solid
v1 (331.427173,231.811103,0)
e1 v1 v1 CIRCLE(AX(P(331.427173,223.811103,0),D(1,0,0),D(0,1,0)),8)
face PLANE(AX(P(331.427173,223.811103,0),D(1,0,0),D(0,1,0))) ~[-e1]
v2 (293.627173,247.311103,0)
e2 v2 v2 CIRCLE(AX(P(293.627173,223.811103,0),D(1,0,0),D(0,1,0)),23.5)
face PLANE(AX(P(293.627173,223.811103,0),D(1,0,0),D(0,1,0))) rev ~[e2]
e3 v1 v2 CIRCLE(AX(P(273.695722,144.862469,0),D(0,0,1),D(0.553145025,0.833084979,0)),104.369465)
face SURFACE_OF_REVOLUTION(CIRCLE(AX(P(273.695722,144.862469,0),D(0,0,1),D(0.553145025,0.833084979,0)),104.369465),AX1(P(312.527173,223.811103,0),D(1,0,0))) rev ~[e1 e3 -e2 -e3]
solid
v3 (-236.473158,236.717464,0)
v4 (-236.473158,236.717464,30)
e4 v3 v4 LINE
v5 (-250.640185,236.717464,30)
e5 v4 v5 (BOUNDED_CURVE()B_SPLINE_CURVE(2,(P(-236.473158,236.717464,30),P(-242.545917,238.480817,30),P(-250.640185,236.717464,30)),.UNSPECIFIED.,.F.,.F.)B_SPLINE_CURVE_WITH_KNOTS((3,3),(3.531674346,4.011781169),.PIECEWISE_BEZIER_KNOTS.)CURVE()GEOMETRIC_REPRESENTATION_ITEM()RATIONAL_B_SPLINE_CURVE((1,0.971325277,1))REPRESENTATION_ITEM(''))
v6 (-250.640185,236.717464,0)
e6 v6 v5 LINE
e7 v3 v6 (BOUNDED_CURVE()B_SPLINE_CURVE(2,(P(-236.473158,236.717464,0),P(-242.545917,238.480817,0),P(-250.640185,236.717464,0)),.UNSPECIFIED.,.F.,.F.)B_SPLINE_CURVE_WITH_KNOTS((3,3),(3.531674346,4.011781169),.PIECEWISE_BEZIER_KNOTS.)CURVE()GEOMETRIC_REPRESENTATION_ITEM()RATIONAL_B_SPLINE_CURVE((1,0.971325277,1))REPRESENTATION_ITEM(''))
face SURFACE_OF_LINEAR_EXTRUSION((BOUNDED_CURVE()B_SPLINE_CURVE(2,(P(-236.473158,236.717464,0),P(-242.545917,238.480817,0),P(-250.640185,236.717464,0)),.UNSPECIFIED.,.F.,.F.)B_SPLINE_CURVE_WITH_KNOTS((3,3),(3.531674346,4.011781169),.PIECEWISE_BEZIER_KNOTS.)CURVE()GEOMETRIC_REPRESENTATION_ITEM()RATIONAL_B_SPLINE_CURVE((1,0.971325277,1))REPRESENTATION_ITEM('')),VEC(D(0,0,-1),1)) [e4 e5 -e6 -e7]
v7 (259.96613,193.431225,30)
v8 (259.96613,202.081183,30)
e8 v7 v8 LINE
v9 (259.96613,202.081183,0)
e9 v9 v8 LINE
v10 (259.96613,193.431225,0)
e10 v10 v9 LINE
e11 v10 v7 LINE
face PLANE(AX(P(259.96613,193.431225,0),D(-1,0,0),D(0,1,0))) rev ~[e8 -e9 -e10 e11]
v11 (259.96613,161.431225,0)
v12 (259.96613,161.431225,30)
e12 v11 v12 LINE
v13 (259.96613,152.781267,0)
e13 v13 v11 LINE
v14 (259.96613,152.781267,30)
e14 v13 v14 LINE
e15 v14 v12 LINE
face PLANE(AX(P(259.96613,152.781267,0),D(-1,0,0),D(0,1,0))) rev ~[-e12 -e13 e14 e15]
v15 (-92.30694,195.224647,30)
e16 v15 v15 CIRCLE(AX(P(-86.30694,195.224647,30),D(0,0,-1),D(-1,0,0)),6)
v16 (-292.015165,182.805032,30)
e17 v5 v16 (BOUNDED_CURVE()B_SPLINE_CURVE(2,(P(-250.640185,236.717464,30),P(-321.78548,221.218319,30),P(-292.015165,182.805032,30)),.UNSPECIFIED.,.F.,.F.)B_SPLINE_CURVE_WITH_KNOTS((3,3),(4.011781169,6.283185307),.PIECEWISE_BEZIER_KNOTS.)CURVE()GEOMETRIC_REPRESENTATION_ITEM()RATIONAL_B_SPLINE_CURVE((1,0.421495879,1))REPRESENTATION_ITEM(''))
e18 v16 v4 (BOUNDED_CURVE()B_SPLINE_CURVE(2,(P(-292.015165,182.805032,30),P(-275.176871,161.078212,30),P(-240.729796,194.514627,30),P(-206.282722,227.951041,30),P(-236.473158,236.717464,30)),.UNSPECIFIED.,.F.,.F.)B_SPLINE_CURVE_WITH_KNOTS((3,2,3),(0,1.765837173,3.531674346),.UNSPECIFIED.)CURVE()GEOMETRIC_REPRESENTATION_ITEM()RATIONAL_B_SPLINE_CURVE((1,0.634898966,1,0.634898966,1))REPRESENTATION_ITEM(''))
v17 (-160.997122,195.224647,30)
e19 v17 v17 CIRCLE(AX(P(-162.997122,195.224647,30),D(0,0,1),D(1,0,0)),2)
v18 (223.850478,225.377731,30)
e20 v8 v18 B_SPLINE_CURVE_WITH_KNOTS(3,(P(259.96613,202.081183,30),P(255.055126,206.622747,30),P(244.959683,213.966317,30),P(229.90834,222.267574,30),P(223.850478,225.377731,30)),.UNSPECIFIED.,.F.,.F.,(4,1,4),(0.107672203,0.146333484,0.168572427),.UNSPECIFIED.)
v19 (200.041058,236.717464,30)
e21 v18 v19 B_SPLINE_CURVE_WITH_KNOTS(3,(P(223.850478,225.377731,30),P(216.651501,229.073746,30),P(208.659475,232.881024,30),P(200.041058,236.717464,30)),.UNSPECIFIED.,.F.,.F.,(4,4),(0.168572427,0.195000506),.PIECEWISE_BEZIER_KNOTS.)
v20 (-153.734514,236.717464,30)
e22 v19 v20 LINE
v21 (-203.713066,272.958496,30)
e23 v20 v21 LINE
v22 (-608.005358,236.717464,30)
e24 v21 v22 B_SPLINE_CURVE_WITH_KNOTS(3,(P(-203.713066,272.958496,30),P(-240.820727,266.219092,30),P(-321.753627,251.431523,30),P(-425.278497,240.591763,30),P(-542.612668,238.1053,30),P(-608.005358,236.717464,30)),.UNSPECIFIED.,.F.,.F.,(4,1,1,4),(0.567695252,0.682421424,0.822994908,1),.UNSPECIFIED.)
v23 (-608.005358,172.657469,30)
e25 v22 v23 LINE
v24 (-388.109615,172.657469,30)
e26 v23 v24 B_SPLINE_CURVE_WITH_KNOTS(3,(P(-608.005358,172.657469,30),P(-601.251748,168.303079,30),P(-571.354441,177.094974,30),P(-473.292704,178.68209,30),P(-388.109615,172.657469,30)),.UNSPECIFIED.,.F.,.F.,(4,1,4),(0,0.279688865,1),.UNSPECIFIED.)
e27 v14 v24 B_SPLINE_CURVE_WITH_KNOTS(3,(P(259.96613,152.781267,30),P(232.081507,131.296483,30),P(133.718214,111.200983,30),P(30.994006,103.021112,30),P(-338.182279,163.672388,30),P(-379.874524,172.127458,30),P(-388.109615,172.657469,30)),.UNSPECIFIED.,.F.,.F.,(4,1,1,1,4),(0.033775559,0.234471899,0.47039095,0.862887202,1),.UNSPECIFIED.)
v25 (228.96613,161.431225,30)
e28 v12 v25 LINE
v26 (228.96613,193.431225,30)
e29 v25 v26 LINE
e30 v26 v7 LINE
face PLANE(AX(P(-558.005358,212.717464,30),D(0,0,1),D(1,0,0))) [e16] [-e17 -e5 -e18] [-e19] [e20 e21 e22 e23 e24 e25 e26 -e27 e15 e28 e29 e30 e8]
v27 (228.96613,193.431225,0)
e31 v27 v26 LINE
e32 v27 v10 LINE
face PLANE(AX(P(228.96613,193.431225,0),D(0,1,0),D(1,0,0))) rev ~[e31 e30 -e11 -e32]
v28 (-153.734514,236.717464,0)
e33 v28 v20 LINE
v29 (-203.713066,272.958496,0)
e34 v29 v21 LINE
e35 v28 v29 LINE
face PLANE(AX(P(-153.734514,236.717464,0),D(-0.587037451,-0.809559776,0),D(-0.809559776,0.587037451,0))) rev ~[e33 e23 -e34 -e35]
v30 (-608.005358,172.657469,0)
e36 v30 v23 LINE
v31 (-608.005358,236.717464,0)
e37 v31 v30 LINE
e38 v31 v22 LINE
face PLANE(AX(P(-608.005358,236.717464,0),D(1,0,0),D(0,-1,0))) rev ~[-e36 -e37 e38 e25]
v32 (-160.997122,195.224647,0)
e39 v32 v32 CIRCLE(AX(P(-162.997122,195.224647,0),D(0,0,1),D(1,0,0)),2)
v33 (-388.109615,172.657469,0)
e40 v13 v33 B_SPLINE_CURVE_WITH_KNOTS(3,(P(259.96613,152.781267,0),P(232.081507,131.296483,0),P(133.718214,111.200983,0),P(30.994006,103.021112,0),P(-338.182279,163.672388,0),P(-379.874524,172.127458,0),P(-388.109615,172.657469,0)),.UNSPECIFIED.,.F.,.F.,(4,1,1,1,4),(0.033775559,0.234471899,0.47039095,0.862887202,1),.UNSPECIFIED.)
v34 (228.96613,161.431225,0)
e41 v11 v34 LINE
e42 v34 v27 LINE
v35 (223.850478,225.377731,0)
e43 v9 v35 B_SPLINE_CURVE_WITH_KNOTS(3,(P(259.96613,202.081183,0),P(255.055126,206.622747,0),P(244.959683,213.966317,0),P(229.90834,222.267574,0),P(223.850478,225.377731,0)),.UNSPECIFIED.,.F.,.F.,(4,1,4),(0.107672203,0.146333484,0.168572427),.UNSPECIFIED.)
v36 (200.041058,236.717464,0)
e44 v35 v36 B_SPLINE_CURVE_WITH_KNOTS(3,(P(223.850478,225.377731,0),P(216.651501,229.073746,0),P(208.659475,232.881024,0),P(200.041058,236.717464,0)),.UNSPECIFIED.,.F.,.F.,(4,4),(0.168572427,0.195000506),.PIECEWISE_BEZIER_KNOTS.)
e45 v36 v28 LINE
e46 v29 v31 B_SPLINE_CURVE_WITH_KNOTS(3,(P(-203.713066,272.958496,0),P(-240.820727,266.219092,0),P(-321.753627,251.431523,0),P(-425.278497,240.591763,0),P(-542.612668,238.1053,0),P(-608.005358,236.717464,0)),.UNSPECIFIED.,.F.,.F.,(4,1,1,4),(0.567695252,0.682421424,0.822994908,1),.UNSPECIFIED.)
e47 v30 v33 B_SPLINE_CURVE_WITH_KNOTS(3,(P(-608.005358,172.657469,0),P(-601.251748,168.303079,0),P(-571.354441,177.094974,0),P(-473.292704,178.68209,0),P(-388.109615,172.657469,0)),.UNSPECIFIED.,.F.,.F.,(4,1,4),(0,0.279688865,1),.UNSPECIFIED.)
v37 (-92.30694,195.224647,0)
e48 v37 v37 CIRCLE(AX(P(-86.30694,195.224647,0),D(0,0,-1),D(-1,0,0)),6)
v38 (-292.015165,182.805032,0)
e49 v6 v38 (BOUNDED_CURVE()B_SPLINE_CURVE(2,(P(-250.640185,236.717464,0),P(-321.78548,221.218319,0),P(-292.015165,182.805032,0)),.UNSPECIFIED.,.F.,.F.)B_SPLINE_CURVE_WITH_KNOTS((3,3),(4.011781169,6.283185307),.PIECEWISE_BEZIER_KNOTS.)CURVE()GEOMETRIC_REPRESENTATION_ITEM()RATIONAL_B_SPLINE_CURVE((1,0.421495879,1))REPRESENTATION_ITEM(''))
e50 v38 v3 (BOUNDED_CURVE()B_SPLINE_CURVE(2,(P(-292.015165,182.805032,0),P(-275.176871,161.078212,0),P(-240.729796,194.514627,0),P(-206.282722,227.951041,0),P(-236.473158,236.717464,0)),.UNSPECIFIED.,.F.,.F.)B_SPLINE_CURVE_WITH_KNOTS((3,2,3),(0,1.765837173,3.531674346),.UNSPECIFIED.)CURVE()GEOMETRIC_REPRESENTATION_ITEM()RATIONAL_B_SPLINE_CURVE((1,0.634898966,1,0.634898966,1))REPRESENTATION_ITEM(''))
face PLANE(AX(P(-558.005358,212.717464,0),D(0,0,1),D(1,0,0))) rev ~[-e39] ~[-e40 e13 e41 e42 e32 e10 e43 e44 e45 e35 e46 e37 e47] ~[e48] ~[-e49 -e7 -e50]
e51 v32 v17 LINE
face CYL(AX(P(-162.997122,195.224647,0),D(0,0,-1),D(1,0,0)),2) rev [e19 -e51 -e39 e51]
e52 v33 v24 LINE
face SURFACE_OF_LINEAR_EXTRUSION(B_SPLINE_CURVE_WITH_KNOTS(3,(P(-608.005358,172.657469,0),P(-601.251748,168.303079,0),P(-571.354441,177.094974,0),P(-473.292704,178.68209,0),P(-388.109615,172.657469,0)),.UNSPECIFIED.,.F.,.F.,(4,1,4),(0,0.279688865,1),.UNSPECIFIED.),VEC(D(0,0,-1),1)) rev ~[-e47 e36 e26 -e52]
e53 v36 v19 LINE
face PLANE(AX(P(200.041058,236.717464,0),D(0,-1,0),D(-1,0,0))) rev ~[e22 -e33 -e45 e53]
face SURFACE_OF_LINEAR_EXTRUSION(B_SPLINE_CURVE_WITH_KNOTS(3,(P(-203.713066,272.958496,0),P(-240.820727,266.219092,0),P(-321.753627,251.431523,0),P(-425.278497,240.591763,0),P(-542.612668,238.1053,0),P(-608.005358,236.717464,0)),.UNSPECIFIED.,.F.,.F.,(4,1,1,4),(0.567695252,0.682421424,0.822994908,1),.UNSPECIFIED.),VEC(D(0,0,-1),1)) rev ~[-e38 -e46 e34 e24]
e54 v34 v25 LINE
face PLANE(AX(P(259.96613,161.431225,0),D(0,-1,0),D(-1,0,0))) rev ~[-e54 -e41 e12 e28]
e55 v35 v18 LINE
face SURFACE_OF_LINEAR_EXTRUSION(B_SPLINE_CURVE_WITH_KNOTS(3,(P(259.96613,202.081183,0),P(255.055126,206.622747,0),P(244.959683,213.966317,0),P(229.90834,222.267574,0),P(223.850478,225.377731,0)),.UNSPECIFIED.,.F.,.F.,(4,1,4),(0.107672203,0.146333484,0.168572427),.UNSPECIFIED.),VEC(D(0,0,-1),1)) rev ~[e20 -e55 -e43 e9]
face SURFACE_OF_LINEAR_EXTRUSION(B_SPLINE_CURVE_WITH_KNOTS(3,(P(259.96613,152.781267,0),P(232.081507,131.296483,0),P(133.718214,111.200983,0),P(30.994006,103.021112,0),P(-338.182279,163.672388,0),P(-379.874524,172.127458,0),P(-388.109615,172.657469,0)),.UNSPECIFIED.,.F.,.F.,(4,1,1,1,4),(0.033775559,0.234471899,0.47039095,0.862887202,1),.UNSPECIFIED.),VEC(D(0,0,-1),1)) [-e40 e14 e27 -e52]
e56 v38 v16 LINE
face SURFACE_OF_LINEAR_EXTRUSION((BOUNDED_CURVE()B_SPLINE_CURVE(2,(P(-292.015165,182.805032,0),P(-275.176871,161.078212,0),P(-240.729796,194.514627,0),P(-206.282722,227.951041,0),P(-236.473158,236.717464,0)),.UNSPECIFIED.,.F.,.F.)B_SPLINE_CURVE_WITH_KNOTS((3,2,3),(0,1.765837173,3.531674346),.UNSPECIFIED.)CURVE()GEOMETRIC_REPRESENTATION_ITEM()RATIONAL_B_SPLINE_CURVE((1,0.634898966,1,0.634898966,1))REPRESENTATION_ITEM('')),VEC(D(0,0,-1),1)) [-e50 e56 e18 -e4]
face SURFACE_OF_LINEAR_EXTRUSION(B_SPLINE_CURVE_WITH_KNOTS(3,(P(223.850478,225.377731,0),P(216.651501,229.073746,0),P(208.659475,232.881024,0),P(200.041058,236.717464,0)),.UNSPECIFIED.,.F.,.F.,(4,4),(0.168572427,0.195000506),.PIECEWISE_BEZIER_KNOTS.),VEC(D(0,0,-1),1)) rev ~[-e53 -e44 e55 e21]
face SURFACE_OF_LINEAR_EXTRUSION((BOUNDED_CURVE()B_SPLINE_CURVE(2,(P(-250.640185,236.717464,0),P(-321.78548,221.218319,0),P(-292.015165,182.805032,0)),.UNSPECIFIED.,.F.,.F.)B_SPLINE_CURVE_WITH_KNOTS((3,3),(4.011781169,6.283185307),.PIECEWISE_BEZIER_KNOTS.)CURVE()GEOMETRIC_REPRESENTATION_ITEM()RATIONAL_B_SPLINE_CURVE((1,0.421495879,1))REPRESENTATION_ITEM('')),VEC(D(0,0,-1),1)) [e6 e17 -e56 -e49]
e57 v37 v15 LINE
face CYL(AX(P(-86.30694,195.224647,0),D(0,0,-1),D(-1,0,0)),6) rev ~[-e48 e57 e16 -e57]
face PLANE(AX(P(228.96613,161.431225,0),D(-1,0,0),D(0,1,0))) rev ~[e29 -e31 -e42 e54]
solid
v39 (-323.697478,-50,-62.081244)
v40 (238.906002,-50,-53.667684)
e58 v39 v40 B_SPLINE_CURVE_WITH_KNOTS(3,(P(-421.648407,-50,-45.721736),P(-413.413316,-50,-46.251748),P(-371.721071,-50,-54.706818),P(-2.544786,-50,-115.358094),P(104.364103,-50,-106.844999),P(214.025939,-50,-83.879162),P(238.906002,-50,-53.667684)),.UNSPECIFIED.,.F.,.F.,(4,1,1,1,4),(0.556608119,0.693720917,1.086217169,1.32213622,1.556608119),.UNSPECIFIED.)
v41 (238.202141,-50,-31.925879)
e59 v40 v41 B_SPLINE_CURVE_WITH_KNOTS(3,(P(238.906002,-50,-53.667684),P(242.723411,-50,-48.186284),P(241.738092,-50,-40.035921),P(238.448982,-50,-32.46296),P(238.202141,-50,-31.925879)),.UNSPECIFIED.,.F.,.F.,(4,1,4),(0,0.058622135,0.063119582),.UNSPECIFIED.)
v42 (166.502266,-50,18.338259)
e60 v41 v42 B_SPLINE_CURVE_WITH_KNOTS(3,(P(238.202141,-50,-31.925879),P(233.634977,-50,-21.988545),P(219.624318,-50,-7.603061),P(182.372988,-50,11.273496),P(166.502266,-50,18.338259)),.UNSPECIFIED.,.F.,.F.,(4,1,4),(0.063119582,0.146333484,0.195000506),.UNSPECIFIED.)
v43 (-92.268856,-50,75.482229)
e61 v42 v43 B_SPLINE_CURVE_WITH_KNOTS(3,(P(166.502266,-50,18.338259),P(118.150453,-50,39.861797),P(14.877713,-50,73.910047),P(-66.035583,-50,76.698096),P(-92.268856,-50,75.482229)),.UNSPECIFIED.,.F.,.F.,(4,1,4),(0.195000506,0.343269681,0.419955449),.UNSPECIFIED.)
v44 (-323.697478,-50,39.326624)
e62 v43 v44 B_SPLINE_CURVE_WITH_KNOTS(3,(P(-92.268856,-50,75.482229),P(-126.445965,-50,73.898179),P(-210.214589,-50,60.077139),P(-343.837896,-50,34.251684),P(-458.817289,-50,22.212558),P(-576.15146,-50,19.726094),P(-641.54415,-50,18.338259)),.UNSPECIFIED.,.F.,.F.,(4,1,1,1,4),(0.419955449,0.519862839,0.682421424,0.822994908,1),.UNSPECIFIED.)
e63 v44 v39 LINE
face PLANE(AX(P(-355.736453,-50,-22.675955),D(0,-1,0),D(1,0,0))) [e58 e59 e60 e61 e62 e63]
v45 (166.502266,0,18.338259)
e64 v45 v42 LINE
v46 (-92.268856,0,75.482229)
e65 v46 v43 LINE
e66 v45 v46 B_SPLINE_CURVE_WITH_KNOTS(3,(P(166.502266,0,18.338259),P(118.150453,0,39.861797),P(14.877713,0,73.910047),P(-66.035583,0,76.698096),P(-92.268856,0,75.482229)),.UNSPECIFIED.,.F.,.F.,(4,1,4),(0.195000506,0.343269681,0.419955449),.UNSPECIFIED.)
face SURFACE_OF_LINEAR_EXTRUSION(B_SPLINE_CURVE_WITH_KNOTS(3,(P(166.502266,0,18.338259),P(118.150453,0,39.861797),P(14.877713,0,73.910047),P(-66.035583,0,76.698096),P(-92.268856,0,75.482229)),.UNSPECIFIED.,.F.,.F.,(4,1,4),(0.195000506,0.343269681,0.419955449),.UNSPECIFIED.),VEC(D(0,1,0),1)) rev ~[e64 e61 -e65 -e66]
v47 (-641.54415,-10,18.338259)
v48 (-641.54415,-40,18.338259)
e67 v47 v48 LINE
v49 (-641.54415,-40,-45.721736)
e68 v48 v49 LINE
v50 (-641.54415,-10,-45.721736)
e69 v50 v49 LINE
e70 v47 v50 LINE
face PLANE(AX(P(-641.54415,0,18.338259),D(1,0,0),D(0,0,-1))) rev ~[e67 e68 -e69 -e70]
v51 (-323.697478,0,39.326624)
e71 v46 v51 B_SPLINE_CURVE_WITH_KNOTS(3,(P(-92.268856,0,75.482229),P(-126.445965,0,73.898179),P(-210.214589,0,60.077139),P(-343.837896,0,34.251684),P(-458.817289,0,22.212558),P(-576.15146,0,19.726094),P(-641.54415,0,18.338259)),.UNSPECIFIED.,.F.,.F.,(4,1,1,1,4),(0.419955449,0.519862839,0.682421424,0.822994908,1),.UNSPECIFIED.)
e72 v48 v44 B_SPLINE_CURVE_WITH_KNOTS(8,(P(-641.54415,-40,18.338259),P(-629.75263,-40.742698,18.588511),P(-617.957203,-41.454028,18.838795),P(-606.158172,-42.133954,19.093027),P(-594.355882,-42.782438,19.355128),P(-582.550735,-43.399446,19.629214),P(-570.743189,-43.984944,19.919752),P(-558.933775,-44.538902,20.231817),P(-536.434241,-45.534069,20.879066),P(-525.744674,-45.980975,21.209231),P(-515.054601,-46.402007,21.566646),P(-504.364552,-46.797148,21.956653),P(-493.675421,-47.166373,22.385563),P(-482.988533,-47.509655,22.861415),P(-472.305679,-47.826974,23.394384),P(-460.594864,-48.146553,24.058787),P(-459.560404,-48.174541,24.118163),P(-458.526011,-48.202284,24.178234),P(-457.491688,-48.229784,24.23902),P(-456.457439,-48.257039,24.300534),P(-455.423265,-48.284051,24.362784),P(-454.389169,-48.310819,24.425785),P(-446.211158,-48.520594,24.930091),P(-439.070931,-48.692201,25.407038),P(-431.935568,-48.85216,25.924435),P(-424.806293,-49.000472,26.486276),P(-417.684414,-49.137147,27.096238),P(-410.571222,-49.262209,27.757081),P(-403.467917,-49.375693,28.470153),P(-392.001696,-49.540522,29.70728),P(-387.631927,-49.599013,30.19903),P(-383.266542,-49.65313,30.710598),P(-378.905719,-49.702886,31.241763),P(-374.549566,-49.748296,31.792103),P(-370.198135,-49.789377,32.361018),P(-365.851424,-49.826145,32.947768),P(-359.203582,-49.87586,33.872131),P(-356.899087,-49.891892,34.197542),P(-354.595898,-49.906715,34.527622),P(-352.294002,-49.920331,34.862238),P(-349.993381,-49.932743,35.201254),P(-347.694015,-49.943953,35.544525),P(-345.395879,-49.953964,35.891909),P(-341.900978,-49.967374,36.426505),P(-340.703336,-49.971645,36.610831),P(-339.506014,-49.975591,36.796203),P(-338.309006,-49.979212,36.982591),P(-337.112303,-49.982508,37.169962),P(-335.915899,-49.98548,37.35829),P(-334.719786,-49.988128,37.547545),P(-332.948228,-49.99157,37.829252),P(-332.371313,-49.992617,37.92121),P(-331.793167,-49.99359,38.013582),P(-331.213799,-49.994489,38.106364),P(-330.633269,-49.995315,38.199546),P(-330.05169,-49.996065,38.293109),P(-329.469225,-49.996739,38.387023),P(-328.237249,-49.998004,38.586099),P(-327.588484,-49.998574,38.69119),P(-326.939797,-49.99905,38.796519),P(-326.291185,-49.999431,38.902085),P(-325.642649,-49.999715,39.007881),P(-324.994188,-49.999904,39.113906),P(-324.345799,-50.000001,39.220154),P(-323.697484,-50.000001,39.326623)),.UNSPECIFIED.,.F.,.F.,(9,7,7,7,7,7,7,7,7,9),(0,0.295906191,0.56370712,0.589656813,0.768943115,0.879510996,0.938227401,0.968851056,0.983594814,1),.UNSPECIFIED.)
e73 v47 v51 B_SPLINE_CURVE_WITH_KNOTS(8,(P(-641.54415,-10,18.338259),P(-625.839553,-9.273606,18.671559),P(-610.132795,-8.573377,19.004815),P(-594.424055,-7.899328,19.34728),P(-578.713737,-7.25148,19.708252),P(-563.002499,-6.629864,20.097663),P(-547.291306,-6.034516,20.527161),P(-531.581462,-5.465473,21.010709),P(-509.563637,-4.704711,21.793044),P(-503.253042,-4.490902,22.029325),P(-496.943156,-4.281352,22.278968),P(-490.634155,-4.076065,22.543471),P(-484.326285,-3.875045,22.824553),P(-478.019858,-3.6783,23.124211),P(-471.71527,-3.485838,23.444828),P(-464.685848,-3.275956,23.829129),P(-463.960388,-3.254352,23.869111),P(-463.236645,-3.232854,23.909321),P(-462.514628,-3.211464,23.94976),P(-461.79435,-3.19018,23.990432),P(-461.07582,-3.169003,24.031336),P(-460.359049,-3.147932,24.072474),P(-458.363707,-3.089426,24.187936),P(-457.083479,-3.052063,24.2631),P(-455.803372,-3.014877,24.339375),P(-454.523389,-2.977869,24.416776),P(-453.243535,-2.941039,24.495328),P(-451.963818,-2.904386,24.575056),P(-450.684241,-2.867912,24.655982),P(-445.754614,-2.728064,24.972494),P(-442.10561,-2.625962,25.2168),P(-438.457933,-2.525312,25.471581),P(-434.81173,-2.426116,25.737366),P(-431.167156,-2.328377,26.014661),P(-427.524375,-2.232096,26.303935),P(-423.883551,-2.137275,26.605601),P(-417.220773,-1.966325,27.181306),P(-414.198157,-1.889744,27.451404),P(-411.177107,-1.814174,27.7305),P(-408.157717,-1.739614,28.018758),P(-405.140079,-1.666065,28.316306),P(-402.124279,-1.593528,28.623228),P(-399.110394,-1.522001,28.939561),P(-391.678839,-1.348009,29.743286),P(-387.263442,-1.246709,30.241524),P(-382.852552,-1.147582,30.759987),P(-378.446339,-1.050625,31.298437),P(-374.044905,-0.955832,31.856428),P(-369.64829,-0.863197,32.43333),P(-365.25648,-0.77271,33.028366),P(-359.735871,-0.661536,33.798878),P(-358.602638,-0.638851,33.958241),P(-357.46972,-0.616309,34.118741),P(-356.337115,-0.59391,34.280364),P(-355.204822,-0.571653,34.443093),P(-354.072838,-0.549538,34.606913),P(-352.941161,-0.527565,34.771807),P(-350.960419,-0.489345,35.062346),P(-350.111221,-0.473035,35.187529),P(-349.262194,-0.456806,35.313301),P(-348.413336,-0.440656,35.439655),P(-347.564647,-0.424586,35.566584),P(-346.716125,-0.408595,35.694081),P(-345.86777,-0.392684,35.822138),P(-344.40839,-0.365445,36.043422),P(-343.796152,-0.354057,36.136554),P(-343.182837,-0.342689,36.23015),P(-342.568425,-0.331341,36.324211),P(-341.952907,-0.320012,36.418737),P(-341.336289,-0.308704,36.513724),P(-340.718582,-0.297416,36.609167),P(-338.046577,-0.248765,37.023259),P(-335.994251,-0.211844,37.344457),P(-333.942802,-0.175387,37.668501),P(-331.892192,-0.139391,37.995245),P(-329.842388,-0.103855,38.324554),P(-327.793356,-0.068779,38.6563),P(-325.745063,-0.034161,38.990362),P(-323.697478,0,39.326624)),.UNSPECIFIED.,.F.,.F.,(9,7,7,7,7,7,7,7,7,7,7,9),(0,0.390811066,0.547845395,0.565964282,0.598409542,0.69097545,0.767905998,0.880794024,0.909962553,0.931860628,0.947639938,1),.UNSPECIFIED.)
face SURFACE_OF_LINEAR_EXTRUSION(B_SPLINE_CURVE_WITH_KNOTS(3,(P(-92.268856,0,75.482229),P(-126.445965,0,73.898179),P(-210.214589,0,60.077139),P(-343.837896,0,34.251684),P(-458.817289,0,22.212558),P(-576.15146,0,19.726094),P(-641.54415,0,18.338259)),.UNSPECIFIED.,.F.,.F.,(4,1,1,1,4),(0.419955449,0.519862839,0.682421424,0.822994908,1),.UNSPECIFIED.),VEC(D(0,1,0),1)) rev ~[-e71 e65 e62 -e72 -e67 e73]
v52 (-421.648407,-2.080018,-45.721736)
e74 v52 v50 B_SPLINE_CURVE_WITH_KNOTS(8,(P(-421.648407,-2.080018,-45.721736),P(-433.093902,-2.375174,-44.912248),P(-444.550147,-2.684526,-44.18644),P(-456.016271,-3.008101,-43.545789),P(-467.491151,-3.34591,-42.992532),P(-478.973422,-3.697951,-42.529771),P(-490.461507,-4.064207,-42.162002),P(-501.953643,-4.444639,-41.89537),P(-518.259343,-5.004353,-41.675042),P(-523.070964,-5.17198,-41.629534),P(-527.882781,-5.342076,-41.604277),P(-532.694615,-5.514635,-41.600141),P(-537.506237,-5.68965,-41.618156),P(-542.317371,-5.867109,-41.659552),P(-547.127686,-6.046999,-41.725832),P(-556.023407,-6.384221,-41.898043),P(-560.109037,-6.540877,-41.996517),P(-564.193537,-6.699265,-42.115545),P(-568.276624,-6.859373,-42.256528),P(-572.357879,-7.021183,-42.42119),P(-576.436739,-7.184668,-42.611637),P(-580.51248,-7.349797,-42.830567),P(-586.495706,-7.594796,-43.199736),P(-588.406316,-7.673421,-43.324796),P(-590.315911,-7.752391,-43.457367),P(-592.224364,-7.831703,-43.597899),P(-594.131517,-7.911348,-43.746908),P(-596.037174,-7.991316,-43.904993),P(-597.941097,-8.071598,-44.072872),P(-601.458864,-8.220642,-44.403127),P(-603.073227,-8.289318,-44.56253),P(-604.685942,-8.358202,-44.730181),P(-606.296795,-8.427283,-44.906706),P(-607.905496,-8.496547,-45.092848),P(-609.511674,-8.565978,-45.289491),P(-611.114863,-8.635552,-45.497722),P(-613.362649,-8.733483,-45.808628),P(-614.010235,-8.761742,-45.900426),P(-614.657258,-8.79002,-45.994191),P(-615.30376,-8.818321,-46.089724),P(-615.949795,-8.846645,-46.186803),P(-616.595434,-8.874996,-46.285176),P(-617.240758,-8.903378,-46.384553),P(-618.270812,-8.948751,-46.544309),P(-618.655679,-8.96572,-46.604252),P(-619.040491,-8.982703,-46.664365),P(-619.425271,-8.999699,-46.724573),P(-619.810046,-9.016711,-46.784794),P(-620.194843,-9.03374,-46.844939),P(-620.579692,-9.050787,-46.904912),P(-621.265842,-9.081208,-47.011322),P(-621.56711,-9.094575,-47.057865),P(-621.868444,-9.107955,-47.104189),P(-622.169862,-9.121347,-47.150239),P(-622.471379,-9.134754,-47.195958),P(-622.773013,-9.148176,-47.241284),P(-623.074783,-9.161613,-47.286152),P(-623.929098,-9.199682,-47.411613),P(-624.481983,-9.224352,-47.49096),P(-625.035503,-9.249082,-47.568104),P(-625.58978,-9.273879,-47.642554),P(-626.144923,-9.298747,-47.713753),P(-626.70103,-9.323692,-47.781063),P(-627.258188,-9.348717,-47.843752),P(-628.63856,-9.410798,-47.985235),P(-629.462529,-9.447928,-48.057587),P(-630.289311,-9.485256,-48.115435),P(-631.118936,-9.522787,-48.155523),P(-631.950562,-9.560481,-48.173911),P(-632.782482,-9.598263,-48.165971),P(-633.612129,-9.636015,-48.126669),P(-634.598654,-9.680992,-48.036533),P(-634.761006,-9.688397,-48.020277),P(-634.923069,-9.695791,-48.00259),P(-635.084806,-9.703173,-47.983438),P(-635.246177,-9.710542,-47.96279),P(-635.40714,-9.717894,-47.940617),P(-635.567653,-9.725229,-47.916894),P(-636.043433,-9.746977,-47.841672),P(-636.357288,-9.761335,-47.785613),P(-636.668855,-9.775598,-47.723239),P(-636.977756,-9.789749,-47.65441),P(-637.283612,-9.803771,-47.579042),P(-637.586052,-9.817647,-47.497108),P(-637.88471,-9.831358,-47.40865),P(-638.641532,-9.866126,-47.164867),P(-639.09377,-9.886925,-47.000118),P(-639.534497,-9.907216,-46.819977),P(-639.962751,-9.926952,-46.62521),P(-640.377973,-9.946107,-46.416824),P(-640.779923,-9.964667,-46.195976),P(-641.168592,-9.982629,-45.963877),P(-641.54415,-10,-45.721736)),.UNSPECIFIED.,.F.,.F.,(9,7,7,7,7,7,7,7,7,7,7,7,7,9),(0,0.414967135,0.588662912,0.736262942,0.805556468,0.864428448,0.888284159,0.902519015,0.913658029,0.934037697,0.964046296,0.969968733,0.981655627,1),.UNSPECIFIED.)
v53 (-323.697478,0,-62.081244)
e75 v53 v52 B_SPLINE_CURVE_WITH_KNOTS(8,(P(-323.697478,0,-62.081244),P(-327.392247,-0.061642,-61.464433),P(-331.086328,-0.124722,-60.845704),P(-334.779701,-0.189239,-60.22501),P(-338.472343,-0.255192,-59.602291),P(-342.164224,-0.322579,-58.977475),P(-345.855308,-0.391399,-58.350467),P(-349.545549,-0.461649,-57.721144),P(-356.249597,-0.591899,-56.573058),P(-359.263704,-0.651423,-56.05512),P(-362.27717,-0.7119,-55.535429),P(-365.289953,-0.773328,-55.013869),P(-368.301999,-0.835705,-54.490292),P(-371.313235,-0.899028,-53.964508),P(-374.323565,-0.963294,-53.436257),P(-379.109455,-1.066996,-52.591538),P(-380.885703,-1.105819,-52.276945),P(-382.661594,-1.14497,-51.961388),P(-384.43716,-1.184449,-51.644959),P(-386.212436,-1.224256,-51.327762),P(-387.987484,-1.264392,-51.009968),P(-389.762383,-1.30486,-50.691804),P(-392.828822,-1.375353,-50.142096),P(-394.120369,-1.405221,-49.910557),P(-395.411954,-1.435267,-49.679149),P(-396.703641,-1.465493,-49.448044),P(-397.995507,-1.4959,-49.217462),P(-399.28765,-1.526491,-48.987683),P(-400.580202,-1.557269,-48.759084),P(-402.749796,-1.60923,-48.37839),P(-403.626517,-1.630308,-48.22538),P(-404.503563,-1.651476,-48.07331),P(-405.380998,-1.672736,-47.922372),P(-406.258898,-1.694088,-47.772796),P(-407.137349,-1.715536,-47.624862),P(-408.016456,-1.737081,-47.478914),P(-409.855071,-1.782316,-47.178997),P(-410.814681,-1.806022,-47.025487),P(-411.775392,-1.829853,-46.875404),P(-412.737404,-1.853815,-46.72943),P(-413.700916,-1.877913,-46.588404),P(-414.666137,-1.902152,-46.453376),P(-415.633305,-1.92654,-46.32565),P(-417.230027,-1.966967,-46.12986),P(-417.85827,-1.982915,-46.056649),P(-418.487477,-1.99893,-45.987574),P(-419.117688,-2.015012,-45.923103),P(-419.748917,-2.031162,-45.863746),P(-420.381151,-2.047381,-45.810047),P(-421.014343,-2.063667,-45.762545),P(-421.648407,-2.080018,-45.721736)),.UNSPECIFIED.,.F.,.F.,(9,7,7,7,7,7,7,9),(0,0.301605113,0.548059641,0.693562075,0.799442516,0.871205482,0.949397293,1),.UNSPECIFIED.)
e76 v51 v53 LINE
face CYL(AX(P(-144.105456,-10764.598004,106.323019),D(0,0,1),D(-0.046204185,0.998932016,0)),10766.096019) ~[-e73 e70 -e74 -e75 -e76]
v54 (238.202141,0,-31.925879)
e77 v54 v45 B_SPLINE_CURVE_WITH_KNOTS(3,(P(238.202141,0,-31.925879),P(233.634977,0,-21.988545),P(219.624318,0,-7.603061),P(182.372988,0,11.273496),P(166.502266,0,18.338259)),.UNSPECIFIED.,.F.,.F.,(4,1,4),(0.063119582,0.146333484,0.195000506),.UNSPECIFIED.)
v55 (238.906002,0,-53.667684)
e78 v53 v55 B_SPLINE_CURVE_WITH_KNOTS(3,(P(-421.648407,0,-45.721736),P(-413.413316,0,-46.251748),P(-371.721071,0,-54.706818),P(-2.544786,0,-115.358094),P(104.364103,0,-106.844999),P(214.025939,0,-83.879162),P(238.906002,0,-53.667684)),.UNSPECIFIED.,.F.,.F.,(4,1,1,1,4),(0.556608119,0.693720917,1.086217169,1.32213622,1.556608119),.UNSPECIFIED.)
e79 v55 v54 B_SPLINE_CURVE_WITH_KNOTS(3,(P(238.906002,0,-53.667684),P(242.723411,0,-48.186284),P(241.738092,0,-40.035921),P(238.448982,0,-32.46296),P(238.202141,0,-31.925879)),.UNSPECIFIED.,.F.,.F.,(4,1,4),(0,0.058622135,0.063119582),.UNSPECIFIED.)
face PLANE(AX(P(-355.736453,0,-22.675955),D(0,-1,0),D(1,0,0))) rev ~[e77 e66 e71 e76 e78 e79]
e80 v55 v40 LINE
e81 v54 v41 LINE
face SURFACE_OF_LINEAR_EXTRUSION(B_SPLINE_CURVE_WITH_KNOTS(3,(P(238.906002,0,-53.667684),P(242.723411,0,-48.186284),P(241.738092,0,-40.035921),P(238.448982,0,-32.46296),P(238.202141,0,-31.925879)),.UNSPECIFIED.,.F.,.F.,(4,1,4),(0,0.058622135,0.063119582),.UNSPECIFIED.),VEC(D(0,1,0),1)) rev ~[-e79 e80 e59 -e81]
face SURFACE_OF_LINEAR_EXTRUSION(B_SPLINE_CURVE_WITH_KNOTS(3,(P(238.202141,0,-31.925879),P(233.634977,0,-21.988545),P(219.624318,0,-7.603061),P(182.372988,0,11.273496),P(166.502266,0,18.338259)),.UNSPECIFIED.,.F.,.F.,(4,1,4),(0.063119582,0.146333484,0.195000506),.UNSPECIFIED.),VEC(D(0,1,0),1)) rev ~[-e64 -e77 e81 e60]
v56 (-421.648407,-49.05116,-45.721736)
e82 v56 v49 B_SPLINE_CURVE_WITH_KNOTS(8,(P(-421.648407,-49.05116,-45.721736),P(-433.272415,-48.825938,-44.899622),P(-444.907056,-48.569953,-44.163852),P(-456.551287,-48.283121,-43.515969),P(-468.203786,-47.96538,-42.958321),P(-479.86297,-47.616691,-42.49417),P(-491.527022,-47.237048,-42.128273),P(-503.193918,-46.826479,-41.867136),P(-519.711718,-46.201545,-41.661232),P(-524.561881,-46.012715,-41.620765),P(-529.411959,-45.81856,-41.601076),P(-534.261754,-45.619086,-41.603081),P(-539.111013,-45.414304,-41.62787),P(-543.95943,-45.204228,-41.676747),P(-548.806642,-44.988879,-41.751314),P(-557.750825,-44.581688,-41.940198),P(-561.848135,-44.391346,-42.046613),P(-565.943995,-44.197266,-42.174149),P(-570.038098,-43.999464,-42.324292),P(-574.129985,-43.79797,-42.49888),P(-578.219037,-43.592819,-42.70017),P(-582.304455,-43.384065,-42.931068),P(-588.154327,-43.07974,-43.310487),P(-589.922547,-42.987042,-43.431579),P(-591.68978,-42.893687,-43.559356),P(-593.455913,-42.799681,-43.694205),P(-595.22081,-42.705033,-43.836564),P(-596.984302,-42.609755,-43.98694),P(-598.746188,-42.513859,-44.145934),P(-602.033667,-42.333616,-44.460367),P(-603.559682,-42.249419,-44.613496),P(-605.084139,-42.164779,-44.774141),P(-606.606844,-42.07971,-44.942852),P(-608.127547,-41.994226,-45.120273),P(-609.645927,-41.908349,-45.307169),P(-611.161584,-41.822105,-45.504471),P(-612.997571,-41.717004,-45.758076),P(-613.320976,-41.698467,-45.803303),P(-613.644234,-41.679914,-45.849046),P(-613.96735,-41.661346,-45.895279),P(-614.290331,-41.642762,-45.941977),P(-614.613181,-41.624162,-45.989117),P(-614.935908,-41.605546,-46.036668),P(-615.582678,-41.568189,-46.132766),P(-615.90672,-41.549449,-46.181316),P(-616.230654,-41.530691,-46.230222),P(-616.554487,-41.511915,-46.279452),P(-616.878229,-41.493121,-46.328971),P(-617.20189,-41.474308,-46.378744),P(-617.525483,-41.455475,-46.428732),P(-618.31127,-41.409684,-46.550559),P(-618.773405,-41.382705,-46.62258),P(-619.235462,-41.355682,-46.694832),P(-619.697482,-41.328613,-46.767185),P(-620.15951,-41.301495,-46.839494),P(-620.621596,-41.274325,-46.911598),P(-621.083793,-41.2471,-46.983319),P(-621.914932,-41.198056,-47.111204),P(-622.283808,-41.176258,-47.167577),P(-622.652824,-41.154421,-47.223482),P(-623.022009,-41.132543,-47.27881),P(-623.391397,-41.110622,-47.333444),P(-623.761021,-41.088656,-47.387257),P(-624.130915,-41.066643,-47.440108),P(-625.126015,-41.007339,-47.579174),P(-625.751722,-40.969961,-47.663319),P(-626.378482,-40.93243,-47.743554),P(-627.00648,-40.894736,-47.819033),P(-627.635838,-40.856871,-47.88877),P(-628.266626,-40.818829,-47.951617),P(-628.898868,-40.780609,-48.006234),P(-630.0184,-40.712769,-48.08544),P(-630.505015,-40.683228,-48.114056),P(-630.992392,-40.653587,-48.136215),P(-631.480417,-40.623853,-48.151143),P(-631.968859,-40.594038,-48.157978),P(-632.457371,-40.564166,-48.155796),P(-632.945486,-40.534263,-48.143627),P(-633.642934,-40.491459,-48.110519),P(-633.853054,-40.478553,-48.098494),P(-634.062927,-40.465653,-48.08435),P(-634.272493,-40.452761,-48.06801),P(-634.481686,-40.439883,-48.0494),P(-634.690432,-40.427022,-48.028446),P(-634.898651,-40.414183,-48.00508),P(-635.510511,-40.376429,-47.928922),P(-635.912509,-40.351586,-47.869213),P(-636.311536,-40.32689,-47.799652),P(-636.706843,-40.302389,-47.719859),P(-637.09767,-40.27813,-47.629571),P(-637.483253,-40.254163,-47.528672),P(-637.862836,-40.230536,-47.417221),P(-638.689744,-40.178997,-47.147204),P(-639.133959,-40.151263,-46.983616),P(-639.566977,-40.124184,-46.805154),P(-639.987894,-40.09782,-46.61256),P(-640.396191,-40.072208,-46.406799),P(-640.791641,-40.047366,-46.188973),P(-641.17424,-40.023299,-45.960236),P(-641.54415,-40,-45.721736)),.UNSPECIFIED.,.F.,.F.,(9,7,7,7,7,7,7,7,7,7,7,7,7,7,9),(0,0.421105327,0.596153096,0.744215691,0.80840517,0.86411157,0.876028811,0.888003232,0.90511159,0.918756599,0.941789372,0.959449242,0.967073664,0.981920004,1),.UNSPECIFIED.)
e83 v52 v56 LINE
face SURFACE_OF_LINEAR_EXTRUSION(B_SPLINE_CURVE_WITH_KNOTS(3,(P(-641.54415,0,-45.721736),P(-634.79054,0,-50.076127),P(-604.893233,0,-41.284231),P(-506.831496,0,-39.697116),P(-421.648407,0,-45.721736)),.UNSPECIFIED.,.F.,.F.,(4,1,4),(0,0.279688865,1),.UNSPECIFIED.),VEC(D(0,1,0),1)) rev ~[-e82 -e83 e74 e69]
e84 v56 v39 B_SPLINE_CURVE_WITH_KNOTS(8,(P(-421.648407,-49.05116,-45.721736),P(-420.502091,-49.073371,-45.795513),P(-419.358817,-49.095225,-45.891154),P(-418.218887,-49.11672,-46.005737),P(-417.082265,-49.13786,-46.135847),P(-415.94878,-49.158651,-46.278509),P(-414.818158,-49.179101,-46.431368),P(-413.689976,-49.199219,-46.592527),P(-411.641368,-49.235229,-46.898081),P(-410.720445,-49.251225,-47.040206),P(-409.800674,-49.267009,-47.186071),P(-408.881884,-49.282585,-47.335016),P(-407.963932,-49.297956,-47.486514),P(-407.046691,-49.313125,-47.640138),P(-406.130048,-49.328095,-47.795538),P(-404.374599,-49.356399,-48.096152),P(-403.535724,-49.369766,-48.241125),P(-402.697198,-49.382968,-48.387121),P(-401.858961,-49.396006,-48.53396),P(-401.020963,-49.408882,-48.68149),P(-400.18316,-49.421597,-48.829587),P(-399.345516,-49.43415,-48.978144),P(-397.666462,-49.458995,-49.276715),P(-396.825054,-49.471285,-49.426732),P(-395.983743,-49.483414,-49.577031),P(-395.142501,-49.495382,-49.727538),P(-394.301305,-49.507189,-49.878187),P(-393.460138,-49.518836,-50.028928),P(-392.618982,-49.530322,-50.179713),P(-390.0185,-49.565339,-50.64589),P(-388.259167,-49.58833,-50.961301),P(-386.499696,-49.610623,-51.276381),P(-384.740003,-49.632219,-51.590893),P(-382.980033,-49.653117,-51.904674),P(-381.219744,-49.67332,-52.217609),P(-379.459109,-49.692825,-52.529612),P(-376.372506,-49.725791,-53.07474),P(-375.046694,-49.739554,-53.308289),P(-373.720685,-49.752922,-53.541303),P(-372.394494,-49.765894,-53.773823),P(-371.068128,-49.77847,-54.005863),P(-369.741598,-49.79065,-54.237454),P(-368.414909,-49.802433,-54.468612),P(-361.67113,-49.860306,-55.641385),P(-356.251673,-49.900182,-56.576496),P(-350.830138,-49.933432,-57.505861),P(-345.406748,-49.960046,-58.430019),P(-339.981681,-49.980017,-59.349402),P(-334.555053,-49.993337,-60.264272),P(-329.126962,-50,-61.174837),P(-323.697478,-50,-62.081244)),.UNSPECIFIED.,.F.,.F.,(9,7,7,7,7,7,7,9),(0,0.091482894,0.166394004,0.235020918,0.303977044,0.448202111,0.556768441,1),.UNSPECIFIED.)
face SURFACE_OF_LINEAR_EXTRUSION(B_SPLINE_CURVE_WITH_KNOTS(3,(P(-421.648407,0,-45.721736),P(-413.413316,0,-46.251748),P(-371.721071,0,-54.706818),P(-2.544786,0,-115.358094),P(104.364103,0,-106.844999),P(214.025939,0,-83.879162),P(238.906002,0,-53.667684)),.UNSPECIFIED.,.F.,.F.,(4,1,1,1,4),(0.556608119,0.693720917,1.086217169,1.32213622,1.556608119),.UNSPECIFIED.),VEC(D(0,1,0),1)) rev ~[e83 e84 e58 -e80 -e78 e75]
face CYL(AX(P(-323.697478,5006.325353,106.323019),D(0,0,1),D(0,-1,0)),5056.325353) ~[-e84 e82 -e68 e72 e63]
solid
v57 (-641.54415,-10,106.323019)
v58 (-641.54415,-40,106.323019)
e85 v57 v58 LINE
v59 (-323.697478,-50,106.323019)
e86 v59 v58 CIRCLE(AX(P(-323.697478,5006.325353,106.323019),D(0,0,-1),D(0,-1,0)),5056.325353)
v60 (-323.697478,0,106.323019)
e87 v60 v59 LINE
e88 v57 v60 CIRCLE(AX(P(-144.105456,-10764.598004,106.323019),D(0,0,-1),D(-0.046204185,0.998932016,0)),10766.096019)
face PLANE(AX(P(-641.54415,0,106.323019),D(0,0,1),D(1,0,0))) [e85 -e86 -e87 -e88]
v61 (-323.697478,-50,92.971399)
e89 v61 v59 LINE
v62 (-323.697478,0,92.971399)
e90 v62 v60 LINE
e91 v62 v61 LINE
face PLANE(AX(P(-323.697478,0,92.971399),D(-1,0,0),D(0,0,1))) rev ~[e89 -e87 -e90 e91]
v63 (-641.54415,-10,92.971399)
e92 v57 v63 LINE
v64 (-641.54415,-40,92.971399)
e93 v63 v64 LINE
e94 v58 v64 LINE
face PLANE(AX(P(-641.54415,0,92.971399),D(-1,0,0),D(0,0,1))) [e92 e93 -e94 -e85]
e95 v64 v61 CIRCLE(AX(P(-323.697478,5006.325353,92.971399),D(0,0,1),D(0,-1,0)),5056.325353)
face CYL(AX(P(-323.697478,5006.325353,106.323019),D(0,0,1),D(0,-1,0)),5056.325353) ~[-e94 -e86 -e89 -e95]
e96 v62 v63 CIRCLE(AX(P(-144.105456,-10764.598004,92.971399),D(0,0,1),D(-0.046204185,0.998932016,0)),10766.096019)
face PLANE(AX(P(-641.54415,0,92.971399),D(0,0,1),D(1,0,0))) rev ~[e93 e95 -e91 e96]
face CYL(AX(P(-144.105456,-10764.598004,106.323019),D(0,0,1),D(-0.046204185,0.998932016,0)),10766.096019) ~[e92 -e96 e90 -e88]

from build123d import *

# Parameters (mm, degrees)
F1_DEPTH = 50
F0_W     = 317.8466722451
F0_H     = 13.3516192436
F3_DEPTH = 1500
F6_W     = 100
F6_H     = 8
F6_R     = 2
F7_DEPTH = 30


with BuildPart() as f1:
    # F0 (on Front) → F1 (new body)
    with BuildSketch(Plane.XZ):
        with BuildLine():
            Line((-92.2688558526, 18.3382586387), (-641.5441498242, 18.3382586387))
            Line((-641.5441498242, 18.3382586387), (-641.5441498242, -45.7217364761))
            add(Edge.make_bspline(
                [(-641.5441498242, -45.7217364761), (-634.7905397415, -50.0761270524), (-604.8932332178, -41.2842312856), (-506.8314957663, -39.6971155018), (-421.6484069347, -45.7217364761)],
                knots=[0, 0, 0, 0, 0.2796888649, 1, 1, 1, 1], degree=3))
            add(Edge.make_bspline(
                [(-92.2688558526, -97.0879061647), (-193.8096296355, -83.8930034142), (-378.50831803, -53.3303829833), (-413.4133160114, -46.2517477573), (-421.6484069347, -45.7217364761)],
                knots=[0.5566081187, 0.5566081187, 0.5566081187, 0.5566081187, 0.862887202, 1, 1, 1, 1], degree=3))
            Line((-92.2688558526, -97.0879061647), (-92.2688558526, 18.3382586387))
        make_face()
        with BuildLine():
            Line((166.5022664445, 18.3382586387), (-92.2688558526, 18.3382586387))
            Line((-92.2688558526, 18.3382586387), (-92.2688558526, -97.0879061647))
            add(Edge.make_bspline(
                [(238.9060020924, -53.6676838252), (214.0259390291, -83.879161814), (104.3641030377, -106.8449990114), (35.4021859771, -112.3363976445), (-63.6852582604, -100.8022543663), (-92.2688558526, -97.0879061647)],
                knots=[0, 0, 0, 0, 0.2344718991, 0.4703909496, 0.5566081187, 0.5566081187, 0.5566081187, 0.5566081187], degree=3))
            add(Edge.make_bspline(
                [(238.9060020924, -53.6676838252), (242.7234113693, -48.1862842295), (241.7380916069, -40.0359209618), (238.4489816883, -32.4629603062), (238.2021409461, -31.9258788924)],
                knots=[0, 0, 0, 0, 0.0586221346, 0.0631195824, 0.0631195824, 0.0631195824, 0.0631195824], degree=3))
            add(Edge.make_bspline(
                [(238.2021409461, -31.9258788924), (233.634977015, -21.9885450492), (219.6243183798, -7.6030613206), (182.3729880207, 11.2734958473), (166.5022664445, 18.3382586386)],
                knots=[0.0631195824, 0.0631195824, 0.0631195824, 0.0631195824, 0.1463334835, 0.1950005061, 0.1950005061, 0.1950005061, 0.1950005061], degree=3))
        make_face()
        with BuildLine():
            Line((-92.2688558526, 75.4822293566), (-92.2688558526, 18.3382586387))
            Line((-92.2688558526, 18.3382586387), (166.5022664445, 18.3382586387))
            add(Edge.make_bspline(
                [(166.5022664445, 18.3382586386), (118.1504529994, 39.861797495), (14.8777125002, 73.9100474389), (-66.0355828244, 76.6980963515), (-92.2688558526, 75.4822293566)],
                knots=[0.1950005061, 0.1950005061, 0.1950005061, 0.1950005061, 0.3432696814, 0.4199554493, 0.4199554493, 0.4199554493, 0.4199554493], degree=3))
        make_face()
        with BuildLine():
            add(Edge.make_bspline(
                [(-92.2688558526, 75.4822293566), (-126.4459647483, 73.8981792593), (-210.2145894378, 60.0771392783), (-343.8378962034, 34.2516843542), (-458.8172888723, 22.2125576311), (-576.1514595784, 19.726094248), (-641.5441498242, 18.3382586387)],
                knots=[0.4199554493, 0.4199554493, 0.4199554493, 0.4199554493, 0.5198628393, 0.6824214237, 0.8229949084, 1, 1, 1, 1], degree=3))
            Line((-641.5441498242, 18.3382586387), (-92.2688558526, 18.3382586387))
            Line((-92.2688558526, 18.3382586387), (-92.2688558526, 75.4822293566))
        make_face()
    extrude(amount=F1_DEPTH)


with BuildPart() as f1b:
    # F0 (on Front) → F1, piece 2 (new body)
    with BuildSketch(Plane.XZ):
        with Locations((-482.6208137017, 99.6472090483)):
            Rectangle(F0_W, F0_H)
    extrude(amount=F1_DEPTH)


with BuildPart() as f3_tool:
    # F2 (on face) → F3 (new body)
    with BuildSketch(Plane.XY.offset(106.3230186701)):
        with BuildLine():
            Line((-641.5441498242, 0), (-641.5441498242, -10))
            ThreePointArc((-641.5441498242, -10), (-482.6577376344, -3.8263850851), (-323.6974775791, 0))
            Line((-323.6974775791, 0), (-641.5441498242, 0))
        make_face()
        with BuildLine():
            ThreePointArc((-323.6974775791, -50), (-482.6994485239, -47.4993816565), (-641.5441498242, -40))
            Line((-641.5441498242, -40), (-641.5441498242, -50))
            Line((-641.5441498242, -50), (-323.6974775791, -50))
        make_face()
    extrude(amount=-F3_DEPTH)


with BuildPart() as f1_1:
    add(f1.part)

    # F3: cut by f3_tool
    add(f3_tool.part, mode=Mode.SUBTRACT)


with BuildPart() as f1b_1:
    add(f1b.part)

    # F3: cut by f3_tool
    add(f3_tool.part, mode=Mode.SUBTRACT)


with BuildPart() as f5:
    # F4 (on Top) → F5 (revolve)
    with BuildSketch(Plane.XY):
        with BuildLine():
            Line((293.6271727085, 247.3111026287), (293.6271727085, 223.8111026287))
            Line((293.6271727085, 223.8111026287), (331.4271727085, 223.8111026287))
            Line((331.4271727085, 223.8111026287), (331.4271727085, 231.8111026287))
            ThreePointArc((331.4271727085, 231.8111026287), (313.2929954526, 241.428721966), (293.6271727085, 247.3111026287))
        make_face()
    revolve(axis=Axis((312.5271727085, 223.8111026287, 0), (1, 0, 0)))


with BuildPart() as f7:
    # F6 (on Top) → F7 (new body)
    with BuildSketch(Plane.XY):
        with Locations((-558.0053578582, 212.717464368)):
            Rectangle(F6_W, F6_H)
        with BuildLine():
            Line((-250.6401846367, 236.7174643679), (-608.0053578582, 236.7174643679))
            Line((-608.0053578582, 236.7174643679), (-608.0053578582, 216.717464368))
            Line((-608.0053578582, 216.717464368), (-508.0053578582, 216.717464368))
            Line((-508.0053578582, 216.717464368), (-508.0053578582, 208.717464368))
            Line((-508.0053578582, 208.717464368), (-608.0053578582, 208.717464368))
            Line((-608.0053578582, 208.717464368), (-608.0053578582, 172.6574692531))
            add(Edge.make_bspline(
                [(-608.0053578582, 172.6574692531), (-601.2517477755, 168.3030786769), (-571.3544412517, 177.0949744437), (-473.2927038003, 178.6820902275), (-388.1096149687, 172.6574692531)],
                knots=[0, 0, 0, 0, 0.2796888649, 1, 1, 1, 1], degree=3))
            add(Edge.make_bspline(
                [(259.9661303996, 152.7812669099), (232.0815068677, 131.2964826553), (133.7182142458, 111.2009829448), (30.9940058765, 103.0211120616), (-338.1822792938, 163.6723882279), (-379.8745240454, 172.127457972), (-388.1096149687, 172.6574692531)],
                knots=[0.0337755588, 0.0337755588, 0.0337755588, 0.0337755588, 0.2344718991, 0.4703909496, 0.862887202, 1, 1, 1, 1], degree=3))
            Line((259.9661303996, 152.7812669099), (259.9661303996, 161.4312250318))
            Line((259.9661303996, 161.4312250318), (228.9661303996, 161.4312250318))
            Line((228.9661303996, 161.4312250318), (228.9661303996, 177.4312250318))
            Line((228.9661303996, 177.4312250318), (228.9661303996, 186.453326837))
            Line((228.9661303996, 186.453326837), (228.9661303996, 193.4312250318))
            Line((228.9661303996, 193.4312250318), (259.9661303996, 193.4312250318))
            Line((259.9661303996, 193.4312250318), (259.9661303996, 202.0811831537))
            add(Edge.make_bspline(
                [(259.9661303996, 202.0811831537), (255.0551260661, 206.6227472636), (244.9596827646, 213.9663165186), (229.9083399795, 222.2675736066), (223.8504781828, 225.3777306739)],
                knots=[0.1076722035, 0.1076722035, 0.1076722035, 0.1076722035, 0.1463334835, 0.168572427, 0.168572427, 0.168572427, 0.168572427], degree=3))
            Line((223.8504781828, 225.3777306739), (204.9262002253, 205.3693207323))
            Line((204.9262002253, 205.3693207323), (-153.734513735, 236.717464368))
            Line((-153.734513735, 236.7174643679), (-236.4731576708, 236.7174643679))
            add(Edge.make_bspline(
                [(-292.0151650906, 182.805031538), (-275.176870524, 161.0782124027), (-240.7297962269, 194.5146268484), (-206.2827219298, 227.9510412941), (-236.4731576708, 236.7174643679)],
                knots=[0, 0, 0, 1.765837173, 1.765837173, 3.5316743461, 3.5316743461, 3.5316743461], degree=2, weights=[1, 0.6348989656, 1, 0.6348989656, 1]))
            add(Edge.make_bspline(
                [(-250.6401846367, 236.7174643679), (-321.7854800529, 221.2183189544), (-292.0151650906, 182.805031538)],
                knots=[4.0117811687, 4.0117811687, 4.0117811687, 6.2831853072, 6.2831853072, 6.2831853072], degree=2, weights=[1, 0.4214958788, 1]))
        make_face()
        Polygon((-12.2165865784, 195.8500338705), (-11.0413590846, 195.0440865754), (-10.2569755968, 194.3944768828), (-9.7286623198, 193.8688590816), (-9.3701640247, 193.4375829371), (-9.1302666693, 193.0143932203), (-8.9847109705, 192.4806889915), (-8.9415833561, 192.1194952205), (-9.0143612054, 191.936202859), (-9.1895671391, 191.5723136121), (-9.4779830608, 191.1706877025), (-9.9038682535, 190.7879301243), (-10.5157412835, 190.3701313593), (-11.3998573798, 189.8795547449), (-12.7179450964, 189.2784636185), (-14.5751279937, 188.6045946427), (-16.8420232283, 187.95498495), (-19.3434248665, 187.3781531067), (-21.9769048239, 186.868708161), (-24.6885535825, 186.423954637), (-27.4379390038, 186.0438925346), (-30.2250610877, 185.7123489985), (-33.0364424548, 185.4266285528), (-35.8639966772, 185.1759492938), (-38.7023328033, 184.9576157457), (-41.551450833, 184.7689324324), (-44.4086552904, 184.6045084023), (-47.2766416514, 184.4616481795), (-50.1500189642, 184.3430472397), (-53.023396277, 184.2406191554), (-55.9021645416, 184.1543639265), (-58.7836282821, 184.0896725048), (-61.6704829745, 184.0357629868), (-64.5600331427, 183.9953308482), (-67.4522787868, 183.9683760892), (-70.341828955, 183.9522032338), (-73.2340745992, 183.9522032338), (-76.1290157192, 183.9575941856), (-79.0266523152, 183.973767041), (-81.9242889111, 184.0007218), (-84.821925507, 184.0384584627), (-87.7222575789, 184.0815860771), (-90.6198941748, 184.1328001193), (-93.5202262467, 184.1921005891), (-96.4232537944, 184.2621829626), (-99.3235858663, 184.334960812), (-102.226613414, 184.4158250891), (-105.1296409617, 184.502080318), (-108.0299730336, 184.5937264987), (-110.9356960572, 184.696154583), (-113.838723605, 184.8012781433), (-116.7417511527, 184.9090971794), (-119.6474741764, 185.0276981191), (-122.5505017241, 185.1462990589), (-125.4535292719, 185.2675954745), (-128.3592522955, 185.3915873661), (-131.2622798433, 185.5209702094), (-134.1680028669, 185.6557440046), (-137.0683349388, 185.7932132756), (-139.9713624865, 185.9333780226), (-142.8770855102, 186.0762382455), (-145.7801130579, 186.2190984684), (-148.6804451298, 186.367349643), (-151.5807772016, 186.5209917695), (-154.4811092734, 186.674633896), (-157.3814413453, 186.8336669743), (-160.2817734171, 186.9980910044), (-163.182105489, 187.1652105104), (-166.0824375608, 187.3350254923), (-168.9827696327, 187.510231426), (-171.8857971804, 187.6908283115), (-174.7888247281, 187.8687297211), (-176.8647465604, 187.9954782198), (-183.7571243637, 202.0062016985), (-180.8617319379, 202.2733529478), (-177.9694862939, 202.5375095863), (-175.0745451739, 202.7989707489), (-172.1822995298, 203.0523454838), (-169.2900538856, 203.3003292669), (-166.3978082415, 203.5429220982), (-163.5028671214, 203.7747330259), (-160.6106214773, 204.0011530018), (-157.7156803573, 204.2194865499), (-154.8234347131, 204.4297336704), (-151.9284935931, 204.634589839), (-149.036247949, 204.8259686281), (-146.1440023048, 205.0146519414), (-143.2490611848, 205.1952488269), (-140.3568155407, 205.3677592847), (-137.4618744206, 205.5321833148), (-134.5669333006, 205.6885209172), (-131.6773831324, 205.8394675677), (-128.7797465364, 205.9796323147), (-125.8875008923, 206.111710634), (-122.9952552482, 206.2357025255), (-120.103009604, 206.3516079894), (-117.208068484, 206.4567315496), (-114.3185183158, 206.5537686821), (-111.4235771957, 206.640023911), (-108.5340270275, 206.7128017604), (-105.6444768593, 206.7774931821), (-102.7522312151, 206.8287072242), (-99.8653765228, 206.8664438869), (-96.9758263546, 206.8960941218), (-94.0916671391, 206.9095715013), (-91.202116969, 206.9095715013), (-88.3206532294, 206.8960941218), (-85.4337985371, 206.8691393628), (-82.5550302724, 206.8287072242), (-79.6735665319, 206.7694067543), (-76.7974937432, 206.696628905), (-73.9214209545, 206.6022872484), (-71.0507391176, 206.4917727363), (-68.1773618048, 206.362389893), (-65.3093754438, 206.2114432424), (-62.4494755105, 206.0416282605), (-59.5868801013, 205.8475539955), (-56.7323711198, 205.6292204473), (-53.885948566, 205.3893230919), (-51.0422214881, 205.1197755016), (-48.206580838, 204.8232731522), (-45.3790266155, 204.4917296161), (-42.5595588208, 204.1305358451), (-39.7562638814, 203.7316054114), (-36.9664463216, 203.2922428392), (-34.1928016172, 202.8124481284), (-31.4380252442, 202.2814393755), (-28.712899106, 201.7019120563), (-26.0201186787, 201.0603887914), (-23.3758568177, 200.3514786288), (-20.7962863783, 199.5724860928), (-18.3137530715, 198.7261066592), (-15.9767754634, 197.7961674726), (-13.8850861625, 196.8042323402), align=None, mode=Mode.SUBTRACT)
        with BuildLine():
            add(Edge.make_bspline(
                [(-203.7130657509, 272.9584963955), (-240.820726705, 266.2190918688), (-321.7536265031, 251.4315234673), (-425.2784969062, 240.5917633604), (-542.6126676123, 238.1052999772), (-608.0053578582, 236.7174643679)],
                knots=[0.5676952523, 0.5676952523, 0.5676952523, 0.5676952523, 0.6824214237, 0.8229949084, 1, 1, 1, 1], degree=3))
            Line((-608.0053578582, 236.7174643679), (-250.6401846367, 236.7174643679))
            add(Edge.make_bspline(
                [(-236.4731576708, 236.7174643679), (-242.5459170902, 238.4808168003), (-250.6401846367, 236.7174643679)],
                knots=[3.5316743461, 3.5316743461, 3.5316743461, 4.0117811687, 4.0117811687, 4.0117811687], degree=2, weights=[1, 0.9713252775, 1]))
            Line((-236.4731576708, 236.7174643679), (-153.734513735, 236.7174643679))
            Line((-153.734513735, 236.7174643679), (-203.7130657509, 272.9584963955))
        make_face()
        with BuildLine():
            add(Edge.make_bspline(
                [(223.8504781828, 225.3777306739), (216.6515008414, 229.0737460349), (208.659475201, 232.8810244196), (200.0410584104, 236.7174643679)],
                knots=[0.168572427, 0.168572427, 0.168572427, 0.168572427, 0.1950005061, 0.1950005061, 0.1950005061, 0.1950005061], degree=3))
            Line((200.0410584104, 236.7174643679), (-153.734513735, 236.7174643679))
            Line((-153.734513735, 236.717464368), (204.9262002253, 205.3693207323))
            Line((204.9262002253, 205.3693207323), (223.8504781828, 225.3777306739))
        make_face()
        Polygon((-10.2569755968, 194.3944768828), (-11.0413590846, 195.0440865754), (-12.2165865784, 195.8500338705), (-13.8850861625, 196.8042323402), (-15.9767754634, 197.7961674726), (-18.3137530715, 198.7261066592), (-20.7962863783, 199.5724860928), (-23.3758568177, 200.3514786288), (-26.0201186787, 201.0603887914), (-28.712899106, 201.7019120563), (-31.4380252442, 202.2814393755), (-34.1928016172, 202.8124481285), (-36.9664463216, 203.2922428392), (-39.7562638814, 203.7316054114), (-42.5595588208, 204.1305358451), (-45.3790266155, 204.4917296161), (-48.206580838, 204.8232731522), (-51.0422214881, 205.1197755016), (-53.885948566, 205.3893230919), (-56.7323711198, 205.6292204473), (-59.5868801013, 205.8475539955), (-62.4494755105, 206.0416282605), (-65.3093754438, 206.2114432424), (-68.1773618048, 206.362389893), (-71.0507391176, 206.4917727363), (-73.9214209545, 206.6022872484), (-76.7974937432, 206.696628905), (-79.6735665319, 206.7694067543), (-82.5550302724, 206.8287072242), (-85.4337985371, 206.8691393628), (-88.3206532294, 206.8960941218), (-91.2021169699, 206.9095715013), (-94.0916671391, 206.9095715013), (-96.9758263546, 206.8960941218), (-99.8653765228, 206.8664438869), (-102.7522312151, 206.8287072242), (-105.6444768593, 206.7774931821), (-108.5340270275, 206.7128017604), (-111.4235771957, 206.640023911), (-114.3185183158, 206.5537686821), (-117.208068484, 206.4567315496), (-120.103009604, 206.3516079894), (-122.9952552482, 206.2357025255), (-125.8875008923, 206.111710634), (-128.7797465364, 205.9796323147), (-131.6773831324, 205.8394675677), (-134.5669333006, 205.6885209172), (-137.4618744206, 205.5321833148), (-140.3568155407, 205.3677592847), (-143.2490611848, 205.1952488269), (-146.1440023048, 205.0146519414), (-149.036247949, 204.8259686281), (-151.9284935931, 204.634589839), (-154.8234347131, 204.4297336704), (-157.7156803573, 204.2194865499), (-160.6106214773, 204.0011530018), (-163.5028671214, 203.7747330259), (-166.3978082415, 203.5429220982), (-169.2900538856, 203.3003292669), (-172.1822995298, 203.0523454838), (-175.0745451739, 202.7989707489), (-177.9694862939, 202.5375095863), (-180.8617319379, 202.2733529478), (-183.7571243637, 202.0062016985), (-176.8647465604, 187.9954782198), (-174.7888247281, 187.8687297211), (-171.8857971804, 187.6908283115), (-168.9827696327, 187.510231426), (-166.0824375608, 187.3350254923), (-163.182105489, 187.1652105104), (-160.2817734171, 186.9980910044), (-157.3814413453, 186.8336669743), (-154.4811092734, 186.674633896), (-151.5807772016, 186.5209917695), (-148.6804451298, 186.367349643), (-145.7801130579, 186.2190984683), (-142.8770855102, 186.0762382455), (-139.9713624865, 185.9333780226), (-137.0683349388, 185.7932132756), (-134.1680028669, 185.6557440046), (-131.2622798433, 185.5209702094), (-128.3592522955, 185.3915873661), (-125.4535292719, 185.2675954745), (-122.5505017241, 185.1462990589), (-119.6474741764, 185.0276981191), (-116.7417511527, 184.9090971794), (-113.838723605, 184.8012781433), (-110.9356960572, 184.696154583), (-108.0299730336, 184.5937264987), (-105.1296409617, 184.502080318), (-102.226613414, 184.4158250891), (-99.3235858663, 184.334960812), (-96.4232537944, 184.2621829626), (-93.5202262467, 184.1921005891), (-90.6198941748, 184.1328001193), (-87.7222575789, 184.0815860771), (-84.821925507, 184.0384584627), (-81.9242889111, 184.0007218), (-79.0266523152, 183.973767041), (-76.1290157192, 183.9575941856), (-73.2340745992, 183.9522032338), (-70.341828955, 183.9522032338), (-67.4522787868, 183.9683760892), (-64.5600331427, 183.9953308482), (-61.6704829745, 184.0357629868), (-58.7836282821, 184.0896725048), (-55.9021645416, 184.1543639265), (-53.023396277, 184.2406191554), (-50.1500189642, 184.3430472397), (-47.2766416514, 184.4616481795), (-44.4086552904, 184.6045084023), (-41.551450833, 184.7689324324), (-38.7023328033, 184.9576157457), (-35.8639966772, 185.1759492938), (-33.0364424548, 185.4266285528), (-30.2250610877, 185.7123489985), (-27.4379390038, 186.0438925346), (-24.6885535825, 186.423954637), (-21.9769048239, 186.868708161), (-19.3434248665, 187.3781531067), (-16.8420232283, 187.95498495), (-14.5751279937, 188.6045946427), (-12.7179450964, 189.2784636185), (-11.3998573798, 189.8795547449), (-10.5157412835, 190.3701313593), (-9.9038682535, 190.7879301243), (-9.4779830608, 191.1706877025), (-9.1895671391, 191.5723136121), (-9.0143612054, 191.936202859), (-8.9415833561, 192.1194952205), (-8.9847109705, 192.4806889915), (-9.1302666693, 193.0143932203), (-9.3701640247, 193.4375829371), (-9.7286623198, 193.8688590816), align=None)
        with Locations((-162.997122293, 195.2246472574)):
            Circle(F6_R, mode=Mode.SUBTRACT)
        with BuildLine():
            ThreePointArc((-80.3069402032, 195.2246472574), (-86.3069402032, 189.2246472574), (-92.3069402032, 195.2246472574))
            ThreePointArc((-92.3069402032, 195.2246472574), (-86.3069402032, 201.2246472574), (-80.3069402032, 195.2246472574))
        make_face(mode=Mode.SUBTRACT)
    extrude(amount=F7_DEPTH)


solid = Compound([f1_1.part, f1b_1.part, f5.part, f7.part])
